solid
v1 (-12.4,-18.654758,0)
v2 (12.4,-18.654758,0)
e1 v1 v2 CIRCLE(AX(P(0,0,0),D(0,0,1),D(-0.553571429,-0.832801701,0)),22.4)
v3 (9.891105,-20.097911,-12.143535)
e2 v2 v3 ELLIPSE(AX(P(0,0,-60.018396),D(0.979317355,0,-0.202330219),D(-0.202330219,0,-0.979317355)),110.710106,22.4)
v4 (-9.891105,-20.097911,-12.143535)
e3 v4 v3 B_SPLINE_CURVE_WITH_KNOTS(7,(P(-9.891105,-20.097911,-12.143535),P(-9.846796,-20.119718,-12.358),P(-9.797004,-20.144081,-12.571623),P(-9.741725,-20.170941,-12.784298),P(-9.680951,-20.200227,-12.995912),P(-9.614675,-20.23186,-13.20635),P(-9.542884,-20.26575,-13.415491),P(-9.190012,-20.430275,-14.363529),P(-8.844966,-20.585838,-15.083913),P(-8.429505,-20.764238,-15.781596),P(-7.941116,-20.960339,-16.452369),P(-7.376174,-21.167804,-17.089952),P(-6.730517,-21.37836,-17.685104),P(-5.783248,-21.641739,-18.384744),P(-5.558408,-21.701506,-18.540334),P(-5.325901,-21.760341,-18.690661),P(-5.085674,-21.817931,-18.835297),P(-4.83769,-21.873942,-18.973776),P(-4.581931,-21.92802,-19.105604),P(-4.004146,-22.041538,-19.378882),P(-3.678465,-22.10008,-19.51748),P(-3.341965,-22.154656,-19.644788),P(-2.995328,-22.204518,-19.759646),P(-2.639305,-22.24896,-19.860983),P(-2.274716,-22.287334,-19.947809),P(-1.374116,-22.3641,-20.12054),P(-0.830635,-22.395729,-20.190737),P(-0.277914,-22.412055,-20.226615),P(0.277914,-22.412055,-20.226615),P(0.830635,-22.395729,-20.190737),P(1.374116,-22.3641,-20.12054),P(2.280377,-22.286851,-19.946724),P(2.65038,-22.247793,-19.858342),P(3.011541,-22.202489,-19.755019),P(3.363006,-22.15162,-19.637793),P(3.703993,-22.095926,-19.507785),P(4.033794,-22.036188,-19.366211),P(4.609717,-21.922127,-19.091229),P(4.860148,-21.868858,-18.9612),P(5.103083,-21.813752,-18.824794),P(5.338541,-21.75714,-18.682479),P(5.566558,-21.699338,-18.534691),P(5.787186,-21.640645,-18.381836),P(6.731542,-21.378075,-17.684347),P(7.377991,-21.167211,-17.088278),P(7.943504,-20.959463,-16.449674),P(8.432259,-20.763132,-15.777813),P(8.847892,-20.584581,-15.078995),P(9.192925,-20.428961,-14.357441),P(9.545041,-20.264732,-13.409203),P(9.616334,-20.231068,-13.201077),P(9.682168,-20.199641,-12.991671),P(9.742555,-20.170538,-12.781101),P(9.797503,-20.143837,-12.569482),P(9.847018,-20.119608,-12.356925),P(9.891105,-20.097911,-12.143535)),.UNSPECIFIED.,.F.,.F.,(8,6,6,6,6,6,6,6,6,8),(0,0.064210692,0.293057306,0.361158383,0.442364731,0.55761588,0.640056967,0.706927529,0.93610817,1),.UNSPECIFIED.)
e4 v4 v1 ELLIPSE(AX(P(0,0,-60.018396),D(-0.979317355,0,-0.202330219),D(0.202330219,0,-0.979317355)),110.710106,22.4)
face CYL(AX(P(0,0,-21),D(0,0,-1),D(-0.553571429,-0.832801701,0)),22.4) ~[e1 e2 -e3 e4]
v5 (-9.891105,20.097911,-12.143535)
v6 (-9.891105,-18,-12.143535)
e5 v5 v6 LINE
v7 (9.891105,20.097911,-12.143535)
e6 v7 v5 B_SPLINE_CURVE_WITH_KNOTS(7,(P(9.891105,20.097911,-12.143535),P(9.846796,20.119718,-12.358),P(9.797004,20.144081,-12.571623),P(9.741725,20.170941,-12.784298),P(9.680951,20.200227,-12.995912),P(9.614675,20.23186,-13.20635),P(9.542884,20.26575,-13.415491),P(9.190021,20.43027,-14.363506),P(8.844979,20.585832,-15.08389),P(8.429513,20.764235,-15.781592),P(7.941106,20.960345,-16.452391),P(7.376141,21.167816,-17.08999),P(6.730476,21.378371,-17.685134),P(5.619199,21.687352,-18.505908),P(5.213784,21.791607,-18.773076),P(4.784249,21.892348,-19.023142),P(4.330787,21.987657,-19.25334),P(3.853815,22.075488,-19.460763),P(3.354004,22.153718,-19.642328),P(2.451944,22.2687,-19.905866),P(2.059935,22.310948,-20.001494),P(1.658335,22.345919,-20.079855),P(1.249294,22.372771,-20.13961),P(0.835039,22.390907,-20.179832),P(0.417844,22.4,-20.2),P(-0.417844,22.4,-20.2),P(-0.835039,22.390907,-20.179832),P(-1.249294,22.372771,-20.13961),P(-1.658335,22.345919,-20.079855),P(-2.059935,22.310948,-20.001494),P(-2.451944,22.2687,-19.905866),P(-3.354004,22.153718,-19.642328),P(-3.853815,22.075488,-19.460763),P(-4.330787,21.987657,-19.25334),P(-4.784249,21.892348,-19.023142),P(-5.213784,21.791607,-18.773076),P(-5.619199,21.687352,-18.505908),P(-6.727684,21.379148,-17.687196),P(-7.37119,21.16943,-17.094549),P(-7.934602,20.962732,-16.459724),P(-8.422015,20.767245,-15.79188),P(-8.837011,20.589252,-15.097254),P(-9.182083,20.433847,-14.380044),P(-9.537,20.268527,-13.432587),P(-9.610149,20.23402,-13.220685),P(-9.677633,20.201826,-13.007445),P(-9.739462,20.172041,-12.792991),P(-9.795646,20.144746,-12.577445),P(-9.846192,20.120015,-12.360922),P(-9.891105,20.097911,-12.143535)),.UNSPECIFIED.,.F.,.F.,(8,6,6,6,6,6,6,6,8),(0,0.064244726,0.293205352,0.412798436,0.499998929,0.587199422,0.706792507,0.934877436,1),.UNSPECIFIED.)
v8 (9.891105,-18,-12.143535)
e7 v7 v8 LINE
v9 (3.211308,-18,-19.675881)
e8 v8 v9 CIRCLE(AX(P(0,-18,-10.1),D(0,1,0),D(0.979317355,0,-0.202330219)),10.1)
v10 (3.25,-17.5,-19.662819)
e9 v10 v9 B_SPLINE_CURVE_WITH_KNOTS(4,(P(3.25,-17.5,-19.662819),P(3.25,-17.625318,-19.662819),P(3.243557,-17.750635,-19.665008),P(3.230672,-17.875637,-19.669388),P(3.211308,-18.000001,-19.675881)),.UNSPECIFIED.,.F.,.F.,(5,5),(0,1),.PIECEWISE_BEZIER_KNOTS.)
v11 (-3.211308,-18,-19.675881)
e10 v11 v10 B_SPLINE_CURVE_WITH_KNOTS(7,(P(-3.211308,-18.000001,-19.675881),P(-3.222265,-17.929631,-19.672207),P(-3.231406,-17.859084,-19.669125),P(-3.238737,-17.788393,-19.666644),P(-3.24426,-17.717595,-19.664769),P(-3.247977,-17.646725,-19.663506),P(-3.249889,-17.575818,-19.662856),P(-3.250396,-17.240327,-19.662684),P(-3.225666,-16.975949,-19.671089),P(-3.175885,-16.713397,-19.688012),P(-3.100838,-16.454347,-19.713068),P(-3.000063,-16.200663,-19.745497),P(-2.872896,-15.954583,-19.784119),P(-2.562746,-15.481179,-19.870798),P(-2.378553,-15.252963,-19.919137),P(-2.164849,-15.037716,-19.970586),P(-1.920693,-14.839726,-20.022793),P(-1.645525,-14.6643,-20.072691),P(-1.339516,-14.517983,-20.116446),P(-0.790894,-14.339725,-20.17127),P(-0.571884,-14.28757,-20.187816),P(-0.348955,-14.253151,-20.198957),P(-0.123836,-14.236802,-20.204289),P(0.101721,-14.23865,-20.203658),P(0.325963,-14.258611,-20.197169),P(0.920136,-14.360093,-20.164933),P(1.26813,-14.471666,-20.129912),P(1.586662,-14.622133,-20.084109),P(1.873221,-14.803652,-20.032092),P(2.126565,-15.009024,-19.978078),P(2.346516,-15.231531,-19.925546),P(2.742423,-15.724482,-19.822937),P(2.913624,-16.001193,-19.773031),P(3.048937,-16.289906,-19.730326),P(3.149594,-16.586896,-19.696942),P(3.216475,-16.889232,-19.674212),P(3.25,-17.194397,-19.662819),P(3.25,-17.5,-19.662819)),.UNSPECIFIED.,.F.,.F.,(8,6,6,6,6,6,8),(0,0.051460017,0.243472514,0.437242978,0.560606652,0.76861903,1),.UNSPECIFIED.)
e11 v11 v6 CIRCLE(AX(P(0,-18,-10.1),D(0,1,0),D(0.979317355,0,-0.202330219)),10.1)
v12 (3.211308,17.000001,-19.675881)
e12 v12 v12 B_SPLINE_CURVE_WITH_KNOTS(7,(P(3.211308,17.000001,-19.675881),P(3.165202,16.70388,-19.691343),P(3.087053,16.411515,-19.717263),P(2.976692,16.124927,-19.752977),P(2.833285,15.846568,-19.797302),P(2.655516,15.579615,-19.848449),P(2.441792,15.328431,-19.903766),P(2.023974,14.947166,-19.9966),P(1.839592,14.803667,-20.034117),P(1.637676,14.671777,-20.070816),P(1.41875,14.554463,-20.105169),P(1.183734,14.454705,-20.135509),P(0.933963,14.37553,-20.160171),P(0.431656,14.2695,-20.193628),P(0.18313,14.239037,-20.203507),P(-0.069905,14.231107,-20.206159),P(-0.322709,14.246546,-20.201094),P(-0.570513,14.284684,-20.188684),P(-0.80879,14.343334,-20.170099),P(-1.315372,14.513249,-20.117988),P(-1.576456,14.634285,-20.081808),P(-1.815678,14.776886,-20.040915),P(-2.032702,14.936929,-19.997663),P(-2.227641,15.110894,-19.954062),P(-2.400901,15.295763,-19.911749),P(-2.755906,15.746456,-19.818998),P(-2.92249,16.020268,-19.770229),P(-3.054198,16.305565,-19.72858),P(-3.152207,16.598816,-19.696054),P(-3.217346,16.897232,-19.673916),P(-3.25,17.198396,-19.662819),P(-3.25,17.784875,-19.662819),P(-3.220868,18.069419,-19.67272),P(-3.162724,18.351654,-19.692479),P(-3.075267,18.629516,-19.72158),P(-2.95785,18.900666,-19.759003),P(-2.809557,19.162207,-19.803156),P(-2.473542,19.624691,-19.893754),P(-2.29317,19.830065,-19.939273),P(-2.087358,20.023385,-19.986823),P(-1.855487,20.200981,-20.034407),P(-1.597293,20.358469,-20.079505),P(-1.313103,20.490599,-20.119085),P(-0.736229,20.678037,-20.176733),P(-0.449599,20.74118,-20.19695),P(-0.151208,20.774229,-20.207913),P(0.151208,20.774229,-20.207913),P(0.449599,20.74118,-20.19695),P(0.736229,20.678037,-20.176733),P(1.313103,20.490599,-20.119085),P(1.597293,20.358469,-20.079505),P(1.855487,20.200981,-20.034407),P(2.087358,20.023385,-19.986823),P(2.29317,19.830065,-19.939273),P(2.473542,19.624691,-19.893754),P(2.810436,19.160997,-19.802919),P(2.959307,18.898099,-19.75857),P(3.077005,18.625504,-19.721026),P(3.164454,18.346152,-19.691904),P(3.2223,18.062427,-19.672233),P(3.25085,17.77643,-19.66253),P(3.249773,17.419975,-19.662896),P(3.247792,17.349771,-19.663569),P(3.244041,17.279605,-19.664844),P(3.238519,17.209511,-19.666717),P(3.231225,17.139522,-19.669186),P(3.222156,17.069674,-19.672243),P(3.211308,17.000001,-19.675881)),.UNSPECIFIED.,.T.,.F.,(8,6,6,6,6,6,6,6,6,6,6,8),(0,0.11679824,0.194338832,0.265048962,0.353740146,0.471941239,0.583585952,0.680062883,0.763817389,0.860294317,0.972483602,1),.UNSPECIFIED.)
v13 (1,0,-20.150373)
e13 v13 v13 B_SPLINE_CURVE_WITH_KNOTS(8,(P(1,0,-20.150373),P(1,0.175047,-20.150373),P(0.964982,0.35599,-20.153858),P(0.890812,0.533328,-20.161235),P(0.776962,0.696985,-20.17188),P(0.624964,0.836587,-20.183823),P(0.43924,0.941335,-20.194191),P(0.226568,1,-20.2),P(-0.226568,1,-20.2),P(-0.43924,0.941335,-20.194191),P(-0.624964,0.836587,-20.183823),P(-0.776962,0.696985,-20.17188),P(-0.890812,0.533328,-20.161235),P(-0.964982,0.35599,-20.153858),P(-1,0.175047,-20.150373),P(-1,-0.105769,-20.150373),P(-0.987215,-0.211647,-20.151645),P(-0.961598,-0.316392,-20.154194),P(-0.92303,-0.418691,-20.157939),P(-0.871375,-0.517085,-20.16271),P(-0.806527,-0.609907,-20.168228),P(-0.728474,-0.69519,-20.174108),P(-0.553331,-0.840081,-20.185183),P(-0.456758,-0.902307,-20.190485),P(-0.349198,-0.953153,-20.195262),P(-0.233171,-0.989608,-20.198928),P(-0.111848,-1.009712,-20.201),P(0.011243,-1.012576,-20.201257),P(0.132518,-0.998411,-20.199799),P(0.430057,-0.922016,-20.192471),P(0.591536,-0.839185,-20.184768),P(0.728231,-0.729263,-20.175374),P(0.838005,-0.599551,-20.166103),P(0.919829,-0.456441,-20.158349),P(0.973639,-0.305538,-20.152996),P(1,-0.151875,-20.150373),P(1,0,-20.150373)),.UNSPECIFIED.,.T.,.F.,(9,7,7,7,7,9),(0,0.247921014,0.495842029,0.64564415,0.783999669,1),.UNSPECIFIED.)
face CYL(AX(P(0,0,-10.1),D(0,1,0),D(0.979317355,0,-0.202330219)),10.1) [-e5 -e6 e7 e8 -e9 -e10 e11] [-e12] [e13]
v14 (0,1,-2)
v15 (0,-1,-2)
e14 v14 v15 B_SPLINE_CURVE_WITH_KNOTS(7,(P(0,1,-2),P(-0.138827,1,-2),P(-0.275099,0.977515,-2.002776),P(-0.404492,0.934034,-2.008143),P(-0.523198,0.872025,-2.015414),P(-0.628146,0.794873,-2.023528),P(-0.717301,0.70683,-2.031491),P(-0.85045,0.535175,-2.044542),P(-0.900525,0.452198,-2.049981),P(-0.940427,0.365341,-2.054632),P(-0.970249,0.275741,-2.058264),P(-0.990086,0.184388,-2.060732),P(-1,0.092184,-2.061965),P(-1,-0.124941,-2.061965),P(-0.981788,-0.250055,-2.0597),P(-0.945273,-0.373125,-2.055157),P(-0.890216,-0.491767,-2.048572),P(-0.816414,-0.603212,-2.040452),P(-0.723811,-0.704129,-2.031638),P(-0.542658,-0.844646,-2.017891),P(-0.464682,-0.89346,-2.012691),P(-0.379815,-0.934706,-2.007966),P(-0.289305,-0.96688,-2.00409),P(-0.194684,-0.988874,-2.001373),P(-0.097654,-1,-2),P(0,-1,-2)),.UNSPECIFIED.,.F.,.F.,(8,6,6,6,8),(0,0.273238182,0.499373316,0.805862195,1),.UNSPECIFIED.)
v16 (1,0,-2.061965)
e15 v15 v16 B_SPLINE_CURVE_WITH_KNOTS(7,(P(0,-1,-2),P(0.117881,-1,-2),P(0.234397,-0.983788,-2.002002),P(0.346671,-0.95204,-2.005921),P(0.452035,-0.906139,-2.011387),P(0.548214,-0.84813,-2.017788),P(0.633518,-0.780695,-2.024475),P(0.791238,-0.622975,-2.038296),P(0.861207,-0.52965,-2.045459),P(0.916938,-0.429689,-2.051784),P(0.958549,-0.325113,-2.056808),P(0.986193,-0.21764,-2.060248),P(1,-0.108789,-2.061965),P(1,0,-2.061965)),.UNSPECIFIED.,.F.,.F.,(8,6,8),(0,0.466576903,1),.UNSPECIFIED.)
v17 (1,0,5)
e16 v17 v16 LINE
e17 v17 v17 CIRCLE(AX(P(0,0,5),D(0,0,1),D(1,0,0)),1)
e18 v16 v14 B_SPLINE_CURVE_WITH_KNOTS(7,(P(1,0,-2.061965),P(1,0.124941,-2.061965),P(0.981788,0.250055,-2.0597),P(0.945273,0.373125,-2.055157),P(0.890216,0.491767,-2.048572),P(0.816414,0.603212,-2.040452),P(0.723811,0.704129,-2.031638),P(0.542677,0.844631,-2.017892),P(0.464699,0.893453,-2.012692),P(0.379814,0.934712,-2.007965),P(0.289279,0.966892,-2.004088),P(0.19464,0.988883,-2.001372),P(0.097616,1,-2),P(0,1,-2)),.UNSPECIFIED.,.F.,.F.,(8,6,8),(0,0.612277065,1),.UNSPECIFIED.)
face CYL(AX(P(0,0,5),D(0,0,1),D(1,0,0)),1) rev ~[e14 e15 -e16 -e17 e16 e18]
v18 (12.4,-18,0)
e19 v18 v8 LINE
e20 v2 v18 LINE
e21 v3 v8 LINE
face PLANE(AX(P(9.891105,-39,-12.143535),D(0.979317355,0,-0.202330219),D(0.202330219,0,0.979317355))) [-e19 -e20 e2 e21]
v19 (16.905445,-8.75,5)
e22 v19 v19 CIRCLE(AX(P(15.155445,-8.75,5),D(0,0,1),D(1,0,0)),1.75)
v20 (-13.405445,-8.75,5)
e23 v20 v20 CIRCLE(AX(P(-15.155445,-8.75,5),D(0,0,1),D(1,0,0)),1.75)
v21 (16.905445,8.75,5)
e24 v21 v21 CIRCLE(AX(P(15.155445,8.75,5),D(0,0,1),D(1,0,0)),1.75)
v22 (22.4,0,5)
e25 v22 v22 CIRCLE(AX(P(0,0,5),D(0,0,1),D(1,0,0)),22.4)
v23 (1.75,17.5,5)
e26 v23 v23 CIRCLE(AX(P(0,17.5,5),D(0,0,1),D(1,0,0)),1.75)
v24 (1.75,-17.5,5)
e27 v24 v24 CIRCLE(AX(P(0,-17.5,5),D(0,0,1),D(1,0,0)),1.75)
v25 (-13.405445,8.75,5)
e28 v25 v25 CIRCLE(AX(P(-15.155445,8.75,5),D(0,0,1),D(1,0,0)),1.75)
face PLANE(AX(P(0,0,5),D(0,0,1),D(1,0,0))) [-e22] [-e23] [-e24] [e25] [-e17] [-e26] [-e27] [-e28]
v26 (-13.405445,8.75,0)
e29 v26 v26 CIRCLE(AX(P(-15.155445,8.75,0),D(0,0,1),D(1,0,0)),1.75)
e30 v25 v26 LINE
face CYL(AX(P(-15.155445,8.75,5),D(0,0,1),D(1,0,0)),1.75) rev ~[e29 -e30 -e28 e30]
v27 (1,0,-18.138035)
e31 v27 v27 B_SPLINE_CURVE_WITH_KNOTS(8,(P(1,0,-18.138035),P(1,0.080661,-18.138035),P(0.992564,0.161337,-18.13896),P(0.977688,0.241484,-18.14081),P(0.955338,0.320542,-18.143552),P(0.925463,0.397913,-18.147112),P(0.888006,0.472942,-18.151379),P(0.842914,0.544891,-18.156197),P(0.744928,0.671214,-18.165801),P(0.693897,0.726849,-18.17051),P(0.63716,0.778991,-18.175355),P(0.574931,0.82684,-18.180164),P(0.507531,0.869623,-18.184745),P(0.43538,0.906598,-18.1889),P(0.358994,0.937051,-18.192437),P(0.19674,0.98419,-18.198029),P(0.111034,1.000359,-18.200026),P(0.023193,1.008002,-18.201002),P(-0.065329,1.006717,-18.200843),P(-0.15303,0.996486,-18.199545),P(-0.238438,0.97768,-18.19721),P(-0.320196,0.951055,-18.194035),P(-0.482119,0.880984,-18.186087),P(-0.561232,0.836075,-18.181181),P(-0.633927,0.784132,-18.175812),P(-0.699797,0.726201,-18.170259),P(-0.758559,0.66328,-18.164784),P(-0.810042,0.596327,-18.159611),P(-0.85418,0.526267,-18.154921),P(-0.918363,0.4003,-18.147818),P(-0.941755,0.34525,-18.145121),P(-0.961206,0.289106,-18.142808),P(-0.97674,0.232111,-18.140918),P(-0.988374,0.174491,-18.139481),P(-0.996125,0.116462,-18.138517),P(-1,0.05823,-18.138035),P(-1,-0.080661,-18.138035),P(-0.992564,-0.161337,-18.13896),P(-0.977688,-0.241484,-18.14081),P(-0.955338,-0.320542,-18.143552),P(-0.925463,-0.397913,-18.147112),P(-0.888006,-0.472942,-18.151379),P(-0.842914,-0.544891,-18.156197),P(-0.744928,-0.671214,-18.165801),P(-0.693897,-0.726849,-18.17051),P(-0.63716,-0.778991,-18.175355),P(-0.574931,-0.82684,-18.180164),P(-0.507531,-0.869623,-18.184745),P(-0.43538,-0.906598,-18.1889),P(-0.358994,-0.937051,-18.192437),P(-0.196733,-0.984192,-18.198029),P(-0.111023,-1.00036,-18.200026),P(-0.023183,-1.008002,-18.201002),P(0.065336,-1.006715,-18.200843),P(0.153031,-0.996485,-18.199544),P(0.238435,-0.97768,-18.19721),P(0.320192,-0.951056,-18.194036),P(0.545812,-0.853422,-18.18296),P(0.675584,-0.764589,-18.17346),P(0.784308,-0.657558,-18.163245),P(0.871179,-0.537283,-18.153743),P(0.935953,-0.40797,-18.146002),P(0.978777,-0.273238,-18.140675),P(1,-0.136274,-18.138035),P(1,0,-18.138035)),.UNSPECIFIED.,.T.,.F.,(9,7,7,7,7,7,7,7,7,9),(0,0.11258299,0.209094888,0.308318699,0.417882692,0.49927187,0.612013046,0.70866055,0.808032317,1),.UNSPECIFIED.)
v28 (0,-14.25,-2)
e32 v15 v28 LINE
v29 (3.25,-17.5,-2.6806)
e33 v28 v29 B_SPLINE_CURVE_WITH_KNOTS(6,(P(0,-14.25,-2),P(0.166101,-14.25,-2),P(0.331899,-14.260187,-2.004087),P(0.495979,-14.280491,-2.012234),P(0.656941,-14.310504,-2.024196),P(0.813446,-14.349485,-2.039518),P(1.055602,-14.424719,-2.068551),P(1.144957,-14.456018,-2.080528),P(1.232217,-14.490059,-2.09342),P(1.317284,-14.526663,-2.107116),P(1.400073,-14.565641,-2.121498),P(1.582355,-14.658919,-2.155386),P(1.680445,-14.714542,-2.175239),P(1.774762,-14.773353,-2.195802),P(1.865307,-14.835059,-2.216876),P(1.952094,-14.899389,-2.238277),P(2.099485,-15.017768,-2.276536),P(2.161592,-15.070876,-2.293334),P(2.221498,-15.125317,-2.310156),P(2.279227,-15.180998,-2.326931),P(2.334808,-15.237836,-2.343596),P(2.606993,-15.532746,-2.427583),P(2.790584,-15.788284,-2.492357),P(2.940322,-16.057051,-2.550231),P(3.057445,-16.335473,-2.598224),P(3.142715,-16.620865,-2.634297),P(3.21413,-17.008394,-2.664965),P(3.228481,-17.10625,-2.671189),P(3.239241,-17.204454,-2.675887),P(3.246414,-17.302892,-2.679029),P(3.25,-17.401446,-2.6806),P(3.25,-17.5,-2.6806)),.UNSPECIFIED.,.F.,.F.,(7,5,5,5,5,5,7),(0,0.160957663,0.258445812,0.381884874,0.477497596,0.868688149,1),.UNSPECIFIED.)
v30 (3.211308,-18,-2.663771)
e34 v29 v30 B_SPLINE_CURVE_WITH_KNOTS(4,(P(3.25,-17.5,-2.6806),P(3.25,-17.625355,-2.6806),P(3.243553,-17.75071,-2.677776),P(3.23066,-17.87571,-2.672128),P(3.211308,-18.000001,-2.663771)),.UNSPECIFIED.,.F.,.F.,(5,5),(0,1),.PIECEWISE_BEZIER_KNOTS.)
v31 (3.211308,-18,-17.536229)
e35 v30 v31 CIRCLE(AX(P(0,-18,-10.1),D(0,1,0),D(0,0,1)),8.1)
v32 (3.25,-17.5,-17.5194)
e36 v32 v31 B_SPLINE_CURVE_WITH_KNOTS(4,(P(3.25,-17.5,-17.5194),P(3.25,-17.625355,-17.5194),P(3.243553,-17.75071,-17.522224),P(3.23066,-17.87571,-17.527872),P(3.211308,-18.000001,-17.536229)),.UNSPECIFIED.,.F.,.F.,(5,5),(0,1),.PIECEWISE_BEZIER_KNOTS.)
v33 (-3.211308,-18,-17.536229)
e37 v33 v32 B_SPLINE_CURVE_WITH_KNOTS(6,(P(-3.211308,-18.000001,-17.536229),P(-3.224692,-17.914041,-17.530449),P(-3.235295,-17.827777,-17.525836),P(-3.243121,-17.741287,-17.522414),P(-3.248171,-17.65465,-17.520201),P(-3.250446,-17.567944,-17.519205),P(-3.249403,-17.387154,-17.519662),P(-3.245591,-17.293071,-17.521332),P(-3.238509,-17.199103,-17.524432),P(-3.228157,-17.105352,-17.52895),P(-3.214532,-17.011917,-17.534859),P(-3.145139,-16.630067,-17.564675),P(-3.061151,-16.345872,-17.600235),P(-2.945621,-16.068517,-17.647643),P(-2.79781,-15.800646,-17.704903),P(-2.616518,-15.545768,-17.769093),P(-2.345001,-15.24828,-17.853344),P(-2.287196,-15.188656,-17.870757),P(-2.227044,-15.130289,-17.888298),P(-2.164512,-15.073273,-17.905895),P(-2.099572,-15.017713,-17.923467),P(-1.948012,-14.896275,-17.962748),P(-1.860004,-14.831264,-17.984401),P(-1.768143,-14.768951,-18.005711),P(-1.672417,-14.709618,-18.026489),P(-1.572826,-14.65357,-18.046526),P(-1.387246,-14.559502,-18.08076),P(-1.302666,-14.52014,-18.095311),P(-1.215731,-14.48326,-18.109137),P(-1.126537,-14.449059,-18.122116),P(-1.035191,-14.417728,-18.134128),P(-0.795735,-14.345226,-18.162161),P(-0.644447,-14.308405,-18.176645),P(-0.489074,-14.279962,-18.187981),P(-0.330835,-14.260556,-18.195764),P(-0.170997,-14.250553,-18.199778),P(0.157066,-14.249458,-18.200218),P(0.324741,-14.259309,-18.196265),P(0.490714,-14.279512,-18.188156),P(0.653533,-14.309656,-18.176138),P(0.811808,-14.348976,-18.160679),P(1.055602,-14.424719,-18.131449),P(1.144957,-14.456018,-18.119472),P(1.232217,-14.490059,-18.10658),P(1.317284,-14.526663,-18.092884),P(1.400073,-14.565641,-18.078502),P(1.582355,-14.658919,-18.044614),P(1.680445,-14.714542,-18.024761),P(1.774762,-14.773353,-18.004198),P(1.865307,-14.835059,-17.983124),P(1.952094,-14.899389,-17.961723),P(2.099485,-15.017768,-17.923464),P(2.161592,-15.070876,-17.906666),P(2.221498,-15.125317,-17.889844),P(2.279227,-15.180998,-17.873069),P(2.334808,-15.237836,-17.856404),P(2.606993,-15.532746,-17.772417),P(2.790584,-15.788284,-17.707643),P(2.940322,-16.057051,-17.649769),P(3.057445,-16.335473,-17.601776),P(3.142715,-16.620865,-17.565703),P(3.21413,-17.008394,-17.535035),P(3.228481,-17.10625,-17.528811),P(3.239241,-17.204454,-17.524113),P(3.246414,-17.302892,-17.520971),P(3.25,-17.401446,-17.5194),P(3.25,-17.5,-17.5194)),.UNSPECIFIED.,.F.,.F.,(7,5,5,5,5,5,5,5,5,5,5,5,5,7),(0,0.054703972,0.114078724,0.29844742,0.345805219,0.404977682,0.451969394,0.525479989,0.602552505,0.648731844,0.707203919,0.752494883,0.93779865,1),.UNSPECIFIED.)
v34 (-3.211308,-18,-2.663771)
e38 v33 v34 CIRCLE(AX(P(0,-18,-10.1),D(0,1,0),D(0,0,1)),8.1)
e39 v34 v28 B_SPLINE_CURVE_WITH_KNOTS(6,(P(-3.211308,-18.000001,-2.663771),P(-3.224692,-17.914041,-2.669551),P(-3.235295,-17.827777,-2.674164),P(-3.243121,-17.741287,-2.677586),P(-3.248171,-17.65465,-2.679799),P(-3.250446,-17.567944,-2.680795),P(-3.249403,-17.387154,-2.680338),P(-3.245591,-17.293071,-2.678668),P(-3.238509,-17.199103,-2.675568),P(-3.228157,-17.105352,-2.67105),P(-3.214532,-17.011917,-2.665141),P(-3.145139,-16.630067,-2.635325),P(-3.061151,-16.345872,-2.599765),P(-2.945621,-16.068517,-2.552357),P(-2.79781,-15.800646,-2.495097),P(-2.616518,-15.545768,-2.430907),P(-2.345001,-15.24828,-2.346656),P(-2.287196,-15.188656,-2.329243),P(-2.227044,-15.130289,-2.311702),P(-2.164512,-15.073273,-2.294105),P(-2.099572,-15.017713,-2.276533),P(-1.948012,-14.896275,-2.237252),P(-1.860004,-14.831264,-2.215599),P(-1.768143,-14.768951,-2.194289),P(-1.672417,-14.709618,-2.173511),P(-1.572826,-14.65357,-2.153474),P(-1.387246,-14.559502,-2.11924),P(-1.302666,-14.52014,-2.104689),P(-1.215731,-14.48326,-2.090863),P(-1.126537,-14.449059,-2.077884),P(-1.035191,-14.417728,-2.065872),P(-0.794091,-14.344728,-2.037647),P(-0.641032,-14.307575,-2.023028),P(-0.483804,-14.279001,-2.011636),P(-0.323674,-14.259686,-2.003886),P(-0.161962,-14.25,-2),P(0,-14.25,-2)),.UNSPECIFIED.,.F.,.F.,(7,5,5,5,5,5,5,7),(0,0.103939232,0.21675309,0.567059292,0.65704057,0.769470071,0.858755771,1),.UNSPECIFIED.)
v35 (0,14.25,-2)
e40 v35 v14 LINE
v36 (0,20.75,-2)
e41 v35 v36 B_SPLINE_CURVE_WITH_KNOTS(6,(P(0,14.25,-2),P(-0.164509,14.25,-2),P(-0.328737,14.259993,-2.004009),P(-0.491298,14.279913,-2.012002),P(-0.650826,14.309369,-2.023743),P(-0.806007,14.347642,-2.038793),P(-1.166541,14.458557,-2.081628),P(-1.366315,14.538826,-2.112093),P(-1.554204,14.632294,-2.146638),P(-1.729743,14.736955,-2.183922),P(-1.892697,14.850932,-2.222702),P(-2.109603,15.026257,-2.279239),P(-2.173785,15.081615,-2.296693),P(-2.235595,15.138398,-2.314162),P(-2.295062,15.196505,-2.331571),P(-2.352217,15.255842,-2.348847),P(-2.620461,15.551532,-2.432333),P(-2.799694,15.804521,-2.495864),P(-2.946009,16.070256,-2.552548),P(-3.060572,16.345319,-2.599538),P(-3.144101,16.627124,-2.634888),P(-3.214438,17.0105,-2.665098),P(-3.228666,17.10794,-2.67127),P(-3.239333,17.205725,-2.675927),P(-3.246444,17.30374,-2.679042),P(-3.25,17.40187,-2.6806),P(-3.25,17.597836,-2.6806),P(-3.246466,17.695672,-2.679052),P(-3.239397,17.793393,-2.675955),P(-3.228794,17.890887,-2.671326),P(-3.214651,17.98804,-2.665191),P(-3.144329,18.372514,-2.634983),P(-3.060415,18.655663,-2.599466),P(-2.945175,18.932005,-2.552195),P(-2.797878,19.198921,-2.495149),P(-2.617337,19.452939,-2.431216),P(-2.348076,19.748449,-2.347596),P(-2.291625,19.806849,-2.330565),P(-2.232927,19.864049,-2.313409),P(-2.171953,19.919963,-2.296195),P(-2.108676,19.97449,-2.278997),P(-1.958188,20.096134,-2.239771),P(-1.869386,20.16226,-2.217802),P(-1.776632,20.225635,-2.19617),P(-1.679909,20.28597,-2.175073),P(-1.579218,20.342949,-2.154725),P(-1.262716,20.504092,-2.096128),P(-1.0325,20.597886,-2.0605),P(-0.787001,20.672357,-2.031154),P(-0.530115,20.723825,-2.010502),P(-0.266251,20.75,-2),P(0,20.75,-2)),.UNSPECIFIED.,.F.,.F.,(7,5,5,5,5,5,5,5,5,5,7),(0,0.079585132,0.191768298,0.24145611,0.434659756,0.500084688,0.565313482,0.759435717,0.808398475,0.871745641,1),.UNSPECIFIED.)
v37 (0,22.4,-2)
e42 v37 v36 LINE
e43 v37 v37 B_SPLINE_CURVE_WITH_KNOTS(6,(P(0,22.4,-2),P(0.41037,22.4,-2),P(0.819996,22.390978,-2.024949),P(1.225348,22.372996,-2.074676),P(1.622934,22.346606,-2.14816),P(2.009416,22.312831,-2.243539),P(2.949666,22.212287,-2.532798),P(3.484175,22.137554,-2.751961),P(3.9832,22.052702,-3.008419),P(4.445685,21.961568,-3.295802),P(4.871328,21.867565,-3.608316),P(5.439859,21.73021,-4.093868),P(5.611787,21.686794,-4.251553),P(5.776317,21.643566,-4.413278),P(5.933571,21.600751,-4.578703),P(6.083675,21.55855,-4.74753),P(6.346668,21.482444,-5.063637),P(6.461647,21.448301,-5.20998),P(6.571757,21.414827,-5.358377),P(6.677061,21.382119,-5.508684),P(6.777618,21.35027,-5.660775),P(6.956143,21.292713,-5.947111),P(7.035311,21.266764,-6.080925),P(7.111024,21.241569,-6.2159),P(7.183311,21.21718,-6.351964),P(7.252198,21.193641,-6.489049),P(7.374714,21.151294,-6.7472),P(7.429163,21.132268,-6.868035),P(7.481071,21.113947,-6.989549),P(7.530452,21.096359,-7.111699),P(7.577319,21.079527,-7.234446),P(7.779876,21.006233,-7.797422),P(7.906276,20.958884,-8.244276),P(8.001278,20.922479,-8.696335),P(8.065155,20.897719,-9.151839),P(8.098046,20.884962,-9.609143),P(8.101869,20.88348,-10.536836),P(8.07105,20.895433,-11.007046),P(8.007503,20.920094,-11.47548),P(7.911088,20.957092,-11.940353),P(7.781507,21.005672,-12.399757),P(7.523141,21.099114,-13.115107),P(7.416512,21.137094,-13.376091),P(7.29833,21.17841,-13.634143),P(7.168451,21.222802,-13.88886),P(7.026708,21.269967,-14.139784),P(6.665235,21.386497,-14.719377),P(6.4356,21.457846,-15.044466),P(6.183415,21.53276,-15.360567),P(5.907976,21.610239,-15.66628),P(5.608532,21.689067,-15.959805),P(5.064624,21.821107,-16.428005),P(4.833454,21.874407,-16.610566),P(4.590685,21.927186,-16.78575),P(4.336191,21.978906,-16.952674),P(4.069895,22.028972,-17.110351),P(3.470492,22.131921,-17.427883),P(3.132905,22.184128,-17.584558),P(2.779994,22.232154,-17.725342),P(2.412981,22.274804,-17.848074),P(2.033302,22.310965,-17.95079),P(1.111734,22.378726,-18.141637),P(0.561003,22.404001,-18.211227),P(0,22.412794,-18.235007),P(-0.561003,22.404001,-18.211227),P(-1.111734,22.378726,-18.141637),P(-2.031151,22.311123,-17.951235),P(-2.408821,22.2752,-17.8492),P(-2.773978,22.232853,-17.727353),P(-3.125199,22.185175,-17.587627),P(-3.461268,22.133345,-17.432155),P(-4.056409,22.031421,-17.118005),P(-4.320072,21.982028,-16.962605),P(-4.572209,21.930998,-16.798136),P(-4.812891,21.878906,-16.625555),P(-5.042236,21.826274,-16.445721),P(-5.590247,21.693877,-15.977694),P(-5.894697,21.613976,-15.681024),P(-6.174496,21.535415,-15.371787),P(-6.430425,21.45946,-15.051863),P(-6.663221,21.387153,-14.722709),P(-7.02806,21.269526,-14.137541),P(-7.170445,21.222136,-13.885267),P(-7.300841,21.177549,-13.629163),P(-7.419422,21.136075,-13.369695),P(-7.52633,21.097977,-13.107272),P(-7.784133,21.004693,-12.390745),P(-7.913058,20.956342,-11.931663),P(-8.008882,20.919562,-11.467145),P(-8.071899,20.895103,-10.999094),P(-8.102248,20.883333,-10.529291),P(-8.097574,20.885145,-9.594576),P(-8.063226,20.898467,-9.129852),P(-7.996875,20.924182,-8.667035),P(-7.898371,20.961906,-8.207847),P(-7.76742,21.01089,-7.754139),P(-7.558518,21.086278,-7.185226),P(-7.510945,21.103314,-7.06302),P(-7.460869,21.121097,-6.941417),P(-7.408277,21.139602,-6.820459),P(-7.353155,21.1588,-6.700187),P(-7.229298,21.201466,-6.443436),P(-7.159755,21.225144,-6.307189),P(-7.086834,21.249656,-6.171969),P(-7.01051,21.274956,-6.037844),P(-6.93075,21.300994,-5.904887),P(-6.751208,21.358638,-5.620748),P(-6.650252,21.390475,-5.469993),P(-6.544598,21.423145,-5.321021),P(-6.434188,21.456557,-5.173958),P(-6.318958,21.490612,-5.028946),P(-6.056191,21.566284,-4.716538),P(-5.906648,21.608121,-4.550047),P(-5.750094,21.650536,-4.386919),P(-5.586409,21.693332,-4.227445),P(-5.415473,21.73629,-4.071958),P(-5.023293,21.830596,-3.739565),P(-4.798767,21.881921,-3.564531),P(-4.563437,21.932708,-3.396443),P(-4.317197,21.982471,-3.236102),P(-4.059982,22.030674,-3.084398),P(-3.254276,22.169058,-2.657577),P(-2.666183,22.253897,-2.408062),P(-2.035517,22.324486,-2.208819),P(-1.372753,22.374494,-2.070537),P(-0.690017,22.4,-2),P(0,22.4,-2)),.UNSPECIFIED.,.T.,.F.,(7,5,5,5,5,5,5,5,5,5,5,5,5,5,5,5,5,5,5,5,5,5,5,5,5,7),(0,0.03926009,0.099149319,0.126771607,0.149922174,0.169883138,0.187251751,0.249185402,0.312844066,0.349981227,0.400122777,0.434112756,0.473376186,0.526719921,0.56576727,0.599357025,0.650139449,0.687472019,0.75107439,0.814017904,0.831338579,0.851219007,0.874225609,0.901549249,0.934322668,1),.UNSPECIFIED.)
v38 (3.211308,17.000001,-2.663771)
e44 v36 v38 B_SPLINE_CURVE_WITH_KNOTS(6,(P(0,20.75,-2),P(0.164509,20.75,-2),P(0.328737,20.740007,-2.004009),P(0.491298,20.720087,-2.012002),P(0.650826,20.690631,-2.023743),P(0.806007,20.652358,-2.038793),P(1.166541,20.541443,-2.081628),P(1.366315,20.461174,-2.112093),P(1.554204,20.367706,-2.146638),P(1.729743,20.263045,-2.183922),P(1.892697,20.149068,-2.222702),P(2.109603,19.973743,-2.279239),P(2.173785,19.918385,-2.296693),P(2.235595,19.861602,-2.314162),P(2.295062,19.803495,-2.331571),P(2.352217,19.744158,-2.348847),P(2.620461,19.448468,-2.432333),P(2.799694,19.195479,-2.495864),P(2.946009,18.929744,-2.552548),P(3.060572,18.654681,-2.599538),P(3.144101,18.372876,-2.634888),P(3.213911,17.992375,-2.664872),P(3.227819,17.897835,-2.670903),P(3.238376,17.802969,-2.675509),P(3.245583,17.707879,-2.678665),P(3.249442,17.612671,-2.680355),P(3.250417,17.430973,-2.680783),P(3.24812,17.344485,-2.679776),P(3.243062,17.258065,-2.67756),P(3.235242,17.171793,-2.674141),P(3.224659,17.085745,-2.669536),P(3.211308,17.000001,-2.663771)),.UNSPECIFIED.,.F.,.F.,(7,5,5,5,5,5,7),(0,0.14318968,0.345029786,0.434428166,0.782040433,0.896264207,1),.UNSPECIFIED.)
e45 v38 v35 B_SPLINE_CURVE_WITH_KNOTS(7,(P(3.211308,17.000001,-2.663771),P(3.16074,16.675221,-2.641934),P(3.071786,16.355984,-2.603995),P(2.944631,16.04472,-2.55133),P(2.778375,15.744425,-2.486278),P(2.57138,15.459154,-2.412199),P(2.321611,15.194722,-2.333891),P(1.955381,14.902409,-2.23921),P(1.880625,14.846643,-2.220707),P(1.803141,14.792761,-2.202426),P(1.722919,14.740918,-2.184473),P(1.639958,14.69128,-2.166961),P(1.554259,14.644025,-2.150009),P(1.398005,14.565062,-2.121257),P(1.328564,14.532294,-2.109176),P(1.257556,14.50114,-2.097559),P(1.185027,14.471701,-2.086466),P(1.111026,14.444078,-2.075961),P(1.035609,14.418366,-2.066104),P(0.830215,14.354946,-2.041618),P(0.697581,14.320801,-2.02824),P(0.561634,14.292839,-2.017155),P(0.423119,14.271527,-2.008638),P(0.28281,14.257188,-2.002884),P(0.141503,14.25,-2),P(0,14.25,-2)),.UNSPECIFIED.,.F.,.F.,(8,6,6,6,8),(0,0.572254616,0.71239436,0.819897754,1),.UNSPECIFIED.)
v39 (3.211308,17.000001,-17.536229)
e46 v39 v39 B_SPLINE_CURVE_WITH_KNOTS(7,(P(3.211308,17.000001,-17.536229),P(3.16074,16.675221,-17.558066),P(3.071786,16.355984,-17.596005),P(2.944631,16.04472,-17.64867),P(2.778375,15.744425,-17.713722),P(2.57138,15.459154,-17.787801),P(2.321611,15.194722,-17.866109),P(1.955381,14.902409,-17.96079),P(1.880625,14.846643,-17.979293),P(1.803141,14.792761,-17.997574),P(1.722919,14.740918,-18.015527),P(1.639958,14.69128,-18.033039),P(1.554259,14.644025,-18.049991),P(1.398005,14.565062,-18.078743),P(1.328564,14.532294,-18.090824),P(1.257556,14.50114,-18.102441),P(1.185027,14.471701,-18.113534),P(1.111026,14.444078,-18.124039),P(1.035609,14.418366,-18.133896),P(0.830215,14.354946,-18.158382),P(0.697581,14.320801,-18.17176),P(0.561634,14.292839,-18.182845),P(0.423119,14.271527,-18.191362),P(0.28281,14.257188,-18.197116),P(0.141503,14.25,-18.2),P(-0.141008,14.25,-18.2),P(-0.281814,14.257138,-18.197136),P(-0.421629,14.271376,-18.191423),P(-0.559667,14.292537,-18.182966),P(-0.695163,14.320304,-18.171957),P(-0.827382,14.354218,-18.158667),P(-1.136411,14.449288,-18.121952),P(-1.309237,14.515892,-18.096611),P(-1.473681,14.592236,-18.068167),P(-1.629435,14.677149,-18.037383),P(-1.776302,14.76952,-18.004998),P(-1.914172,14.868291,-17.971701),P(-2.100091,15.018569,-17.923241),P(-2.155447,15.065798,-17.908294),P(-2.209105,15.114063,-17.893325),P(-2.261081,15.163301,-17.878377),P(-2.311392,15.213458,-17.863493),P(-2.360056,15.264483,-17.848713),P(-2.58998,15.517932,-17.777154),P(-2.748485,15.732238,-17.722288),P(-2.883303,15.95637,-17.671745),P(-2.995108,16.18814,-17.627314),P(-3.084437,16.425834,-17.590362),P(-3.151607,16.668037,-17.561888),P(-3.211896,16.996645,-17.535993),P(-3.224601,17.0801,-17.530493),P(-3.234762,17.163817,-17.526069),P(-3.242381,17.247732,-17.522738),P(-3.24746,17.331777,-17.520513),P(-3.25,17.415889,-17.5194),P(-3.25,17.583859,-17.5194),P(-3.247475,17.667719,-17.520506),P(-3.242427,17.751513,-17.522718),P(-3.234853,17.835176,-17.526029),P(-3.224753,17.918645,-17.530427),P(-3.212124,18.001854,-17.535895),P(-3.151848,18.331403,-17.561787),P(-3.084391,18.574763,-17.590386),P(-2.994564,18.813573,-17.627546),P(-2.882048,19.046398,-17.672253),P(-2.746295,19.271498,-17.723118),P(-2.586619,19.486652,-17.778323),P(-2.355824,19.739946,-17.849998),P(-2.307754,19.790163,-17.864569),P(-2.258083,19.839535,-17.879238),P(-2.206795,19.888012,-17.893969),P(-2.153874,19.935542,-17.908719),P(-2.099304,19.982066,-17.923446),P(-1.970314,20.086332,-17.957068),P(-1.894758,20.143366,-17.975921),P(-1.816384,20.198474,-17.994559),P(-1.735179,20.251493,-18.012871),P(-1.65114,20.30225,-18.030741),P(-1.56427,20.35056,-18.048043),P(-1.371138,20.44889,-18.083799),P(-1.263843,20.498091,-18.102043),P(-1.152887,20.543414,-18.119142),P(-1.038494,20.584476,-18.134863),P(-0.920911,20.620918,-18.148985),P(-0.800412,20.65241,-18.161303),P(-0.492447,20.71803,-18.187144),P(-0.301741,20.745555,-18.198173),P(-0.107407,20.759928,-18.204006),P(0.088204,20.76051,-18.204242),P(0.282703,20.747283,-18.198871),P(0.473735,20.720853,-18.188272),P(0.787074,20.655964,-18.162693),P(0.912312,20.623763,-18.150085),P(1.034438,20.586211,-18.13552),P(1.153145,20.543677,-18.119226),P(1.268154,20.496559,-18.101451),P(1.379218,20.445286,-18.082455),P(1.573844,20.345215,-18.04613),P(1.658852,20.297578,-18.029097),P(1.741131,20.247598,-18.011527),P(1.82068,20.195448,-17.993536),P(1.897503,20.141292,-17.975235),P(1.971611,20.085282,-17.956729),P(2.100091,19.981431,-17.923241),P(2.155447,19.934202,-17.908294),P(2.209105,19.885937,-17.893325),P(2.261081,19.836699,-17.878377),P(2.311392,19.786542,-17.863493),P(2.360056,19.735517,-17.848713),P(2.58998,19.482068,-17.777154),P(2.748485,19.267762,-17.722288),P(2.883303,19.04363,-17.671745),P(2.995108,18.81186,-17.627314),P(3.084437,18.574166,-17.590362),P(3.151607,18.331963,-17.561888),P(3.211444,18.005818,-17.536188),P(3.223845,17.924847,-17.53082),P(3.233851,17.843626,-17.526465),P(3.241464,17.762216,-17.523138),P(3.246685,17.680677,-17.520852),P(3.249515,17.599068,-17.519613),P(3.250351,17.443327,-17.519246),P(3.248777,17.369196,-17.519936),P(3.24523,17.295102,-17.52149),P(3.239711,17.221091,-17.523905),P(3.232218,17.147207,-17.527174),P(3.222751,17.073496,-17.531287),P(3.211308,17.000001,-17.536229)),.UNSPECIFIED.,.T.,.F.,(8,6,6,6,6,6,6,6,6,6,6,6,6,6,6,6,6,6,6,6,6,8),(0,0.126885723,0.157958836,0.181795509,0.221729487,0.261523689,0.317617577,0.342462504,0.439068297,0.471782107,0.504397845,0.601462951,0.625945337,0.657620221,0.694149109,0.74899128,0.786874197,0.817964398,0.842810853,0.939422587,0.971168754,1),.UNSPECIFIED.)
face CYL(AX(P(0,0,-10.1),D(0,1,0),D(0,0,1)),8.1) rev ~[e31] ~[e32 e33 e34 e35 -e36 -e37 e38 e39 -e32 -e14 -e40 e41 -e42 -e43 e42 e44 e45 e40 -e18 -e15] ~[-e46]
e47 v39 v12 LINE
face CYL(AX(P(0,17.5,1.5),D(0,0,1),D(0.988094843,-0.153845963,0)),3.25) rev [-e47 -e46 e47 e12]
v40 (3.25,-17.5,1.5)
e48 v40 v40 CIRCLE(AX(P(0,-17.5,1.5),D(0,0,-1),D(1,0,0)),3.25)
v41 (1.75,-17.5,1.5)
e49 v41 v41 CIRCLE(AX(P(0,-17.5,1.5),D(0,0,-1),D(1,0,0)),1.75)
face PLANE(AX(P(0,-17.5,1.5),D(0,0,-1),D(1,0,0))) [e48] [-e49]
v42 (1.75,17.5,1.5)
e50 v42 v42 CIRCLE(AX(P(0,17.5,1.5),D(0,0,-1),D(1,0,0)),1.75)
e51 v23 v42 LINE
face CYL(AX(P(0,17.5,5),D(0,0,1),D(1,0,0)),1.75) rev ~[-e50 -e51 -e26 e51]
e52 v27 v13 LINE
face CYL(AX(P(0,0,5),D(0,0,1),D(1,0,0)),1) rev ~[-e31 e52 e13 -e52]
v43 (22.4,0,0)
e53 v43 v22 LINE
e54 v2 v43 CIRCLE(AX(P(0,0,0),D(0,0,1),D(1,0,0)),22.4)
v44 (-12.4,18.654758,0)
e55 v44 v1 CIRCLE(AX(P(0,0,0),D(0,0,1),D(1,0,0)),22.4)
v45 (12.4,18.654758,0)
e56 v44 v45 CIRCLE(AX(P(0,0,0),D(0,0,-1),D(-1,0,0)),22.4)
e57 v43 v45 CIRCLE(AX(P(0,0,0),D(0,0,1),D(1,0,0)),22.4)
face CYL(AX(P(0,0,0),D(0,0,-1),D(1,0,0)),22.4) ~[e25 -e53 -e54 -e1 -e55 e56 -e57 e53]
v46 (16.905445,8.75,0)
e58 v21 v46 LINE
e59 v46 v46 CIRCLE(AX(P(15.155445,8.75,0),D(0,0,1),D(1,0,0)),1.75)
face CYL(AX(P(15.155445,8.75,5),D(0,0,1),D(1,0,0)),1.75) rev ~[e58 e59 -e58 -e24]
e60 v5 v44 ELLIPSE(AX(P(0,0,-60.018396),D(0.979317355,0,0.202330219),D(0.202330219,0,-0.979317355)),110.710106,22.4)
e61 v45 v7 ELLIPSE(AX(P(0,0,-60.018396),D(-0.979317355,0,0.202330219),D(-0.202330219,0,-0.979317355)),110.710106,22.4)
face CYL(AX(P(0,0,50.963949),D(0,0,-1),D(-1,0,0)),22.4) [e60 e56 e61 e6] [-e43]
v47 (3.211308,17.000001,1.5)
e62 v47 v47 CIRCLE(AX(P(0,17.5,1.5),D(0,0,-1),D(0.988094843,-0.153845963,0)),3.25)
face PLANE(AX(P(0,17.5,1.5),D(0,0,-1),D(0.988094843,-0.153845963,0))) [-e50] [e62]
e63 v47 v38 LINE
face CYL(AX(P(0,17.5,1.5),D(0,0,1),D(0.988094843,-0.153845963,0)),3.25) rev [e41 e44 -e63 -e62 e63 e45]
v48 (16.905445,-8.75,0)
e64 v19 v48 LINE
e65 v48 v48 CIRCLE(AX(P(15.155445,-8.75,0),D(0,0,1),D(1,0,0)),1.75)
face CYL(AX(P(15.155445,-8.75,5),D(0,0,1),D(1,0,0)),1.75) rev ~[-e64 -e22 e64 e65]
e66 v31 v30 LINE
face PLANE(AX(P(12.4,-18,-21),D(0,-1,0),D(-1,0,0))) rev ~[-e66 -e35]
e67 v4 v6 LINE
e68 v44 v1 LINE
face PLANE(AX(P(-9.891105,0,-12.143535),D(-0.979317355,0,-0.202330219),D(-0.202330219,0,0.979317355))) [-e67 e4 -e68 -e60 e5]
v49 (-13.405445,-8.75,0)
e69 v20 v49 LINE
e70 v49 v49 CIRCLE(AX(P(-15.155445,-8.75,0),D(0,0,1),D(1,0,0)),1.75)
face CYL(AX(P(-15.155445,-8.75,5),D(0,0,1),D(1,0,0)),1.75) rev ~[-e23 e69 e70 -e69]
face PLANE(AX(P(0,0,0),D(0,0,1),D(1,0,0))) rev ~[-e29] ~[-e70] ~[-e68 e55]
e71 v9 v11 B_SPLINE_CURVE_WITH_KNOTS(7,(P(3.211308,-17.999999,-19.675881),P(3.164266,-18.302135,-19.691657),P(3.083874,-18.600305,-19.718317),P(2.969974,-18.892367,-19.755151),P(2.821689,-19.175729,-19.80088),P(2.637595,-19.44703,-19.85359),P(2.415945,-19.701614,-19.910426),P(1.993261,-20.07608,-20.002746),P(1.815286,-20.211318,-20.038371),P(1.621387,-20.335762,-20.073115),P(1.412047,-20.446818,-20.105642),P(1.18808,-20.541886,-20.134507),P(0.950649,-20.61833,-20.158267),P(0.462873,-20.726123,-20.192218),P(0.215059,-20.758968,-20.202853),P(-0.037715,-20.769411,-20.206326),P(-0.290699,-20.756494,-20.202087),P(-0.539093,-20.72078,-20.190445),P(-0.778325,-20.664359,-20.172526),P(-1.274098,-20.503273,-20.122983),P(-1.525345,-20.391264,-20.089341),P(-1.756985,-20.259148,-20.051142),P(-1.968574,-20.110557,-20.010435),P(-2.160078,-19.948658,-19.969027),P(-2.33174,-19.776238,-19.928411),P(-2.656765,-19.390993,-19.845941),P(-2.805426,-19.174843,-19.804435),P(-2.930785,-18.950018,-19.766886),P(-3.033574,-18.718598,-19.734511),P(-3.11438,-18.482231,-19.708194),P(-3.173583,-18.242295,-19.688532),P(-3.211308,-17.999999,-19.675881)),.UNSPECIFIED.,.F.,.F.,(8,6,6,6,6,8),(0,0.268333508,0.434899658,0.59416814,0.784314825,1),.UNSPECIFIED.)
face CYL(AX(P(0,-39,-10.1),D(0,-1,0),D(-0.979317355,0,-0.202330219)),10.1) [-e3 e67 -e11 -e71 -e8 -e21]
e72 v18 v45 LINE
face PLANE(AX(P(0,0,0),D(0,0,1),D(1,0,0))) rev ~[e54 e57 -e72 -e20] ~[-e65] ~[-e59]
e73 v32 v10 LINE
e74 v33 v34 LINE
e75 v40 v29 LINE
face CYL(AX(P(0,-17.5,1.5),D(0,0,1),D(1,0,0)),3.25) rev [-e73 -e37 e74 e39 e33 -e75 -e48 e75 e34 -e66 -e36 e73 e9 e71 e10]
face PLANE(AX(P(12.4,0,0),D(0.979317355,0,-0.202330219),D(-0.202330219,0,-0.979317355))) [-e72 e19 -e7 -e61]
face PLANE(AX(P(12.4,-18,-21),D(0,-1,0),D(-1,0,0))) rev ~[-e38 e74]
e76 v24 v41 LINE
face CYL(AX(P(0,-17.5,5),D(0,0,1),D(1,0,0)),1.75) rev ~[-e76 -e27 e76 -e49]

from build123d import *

# Parameters (mm, degrees)
SKETCH1_R                       = 22.4
BOSS_EXTRUDE1_DEPTH             = 5
BOSS_EXTRUDE2_REACH             = 34.071
BOSS_EXTRUDE2_END_RADIUS        = 22.4
SKETCH3_R                       = 8.1
BOSS_EXTRUDE2_DIRECTION_2_DEPTH = 18
BOSS_EXTRUDE5_START             = 21
BOSS_EXTRUDE5_DEPTH             = 21
CUT_EXTRUDE2_START              = -21
CUT_EXTRUDE2_DEPTH              = 21
SKETCH2_R                       = 1.75
CUT_EXTRUDE1_DEPTH              = 41.479130543
CUT_EXTRUDE3_DEPTH              = 21
CUT_EXTRUDE3_DEPTH_BACK         = 1.5
SKETCH7_R                       = 3.25
SKETCH7_R_2                     = 1.75
SKETCH8_R                       = 1
CUT_EXTRUDE4_DEPTH              = 41.479130543


with BuildPart() as part:
    # Sketch1 → Boss-Extrude1 (new body)
    with BuildSketch(Plane.XY):
        Circle(SKETCH1_R)
    extrude(amount=BOSS_EXTRUDE1_DEPTH)



with BuildPart() as body_2:
    # Boss-Extrude2: up to this cylinder (the profile starts inside it)
    boss_extrude2_end = Plane(origin=(0, 0, -6.007051), z_dir=(0, 0, -1)) * Cylinder(BOSS_EXTRUDE2_END_RADIUS, 113.942, mode=Mode.PRIVATE)
    # Sketch3 → Boss-Extrude2 (new, up to the surface)
    with BuildSketch(Plane(origin=(0, 0, 0), x_dir=(1, 0, 0), z_dir=(0, 1, 0)), mode=Mode.PRIVATE) as boss_extrude2_sk1:
        with BuildLine():
            Line((-9.89110529, 12.143535207), (-12.4, 0))
            Line((-12.4, 0), (12.4, 0))
            Line((12.4, 0), (9.89110529, 12.143535207))
            ThreePointArc((9.89110529, 12.143535207), (0, 20.2), (-9.89110529, 12.143535207))
        make_face()
        with Locations(Location((0, 10.1, 0), (0, 0, 270))):
            Circle(SKETCH3_R, mode=Mode.SUBTRACT)
    boss_extrude2_tool1 = extrude(boss_extrude2_sk1.sketch, amount=BOSS_EXTRUDE2_REACH, mode=Mode.PRIVATE) & boss_extrude2_end
    add(boss_extrude2_tool1.solids().sort_by_distance((-10.832312, 0, -6.007051))[0])

    # Sketch3 → Boss-Extrude2 direction 2 (add)
    with BuildSketch(Plane(origin=(0, 0, 0), x_dir=(1, 0, 0), z_dir=(0, 1, 0))):
        with BuildLine():
            Line((-9.89110529, 12.143535207), (-12.4, 0))
            Line((-12.4, 0), (12.4, 0))
            Line((12.4, 0), (9.89110529, 12.143535207))
            ThreePointArc((9.89110529, 12.143535207), (0, 20.2), (-9.89110529, 12.143535207))
        make_face()
        with Locations(Location((0, 10.1, 0), (0, 0, 270))):
            Circle(SKETCH3_R, mode=Mode.SUBTRACT)
    extrude(amount=-BOSS_EXTRUDE2_DIRECTION_2_DEPTH)


with BuildPart() as part_1:
    add(part.part)

    add(body_2.part)  # Boss-Extrude5 merges body 2
    # Sketch4 → Boss-Extrude5 (add)
    with BuildSketch(Plane(origin=(0, 0, 0), x_dir=(-1, 0, 0), z_dir=(0, 0, -1)).offset(BOSS_EXTRUDE5_START)):
        with BuildLine():
            Line((9.89110529, -18), (12.4, -18))
            Line((12.4, -18), (12.4, -18.654758106))
            ThreePointArc((12.4, -18.654758106), (0, -22.4), (-12.4, -18.654758106))
            Line((-12.4, -18.654758106), (-12.4, -18))
            Line((-12.4, -18), (-9.89110529, -18))
            Line((-9.89110529, -18), (9.89110529, -18))
        make_face()
    extrude(amount=-BOSS_EXTRUDE5_DEPTH)

    # Sketch6 → Cut-Extrude2 (cut)
    with BuildSketch(Plane(origin=(0, -18, 0), x_dir=(1, 0, 0), z_dir=(0, 1, 0)).offset(CUT_EXTRUDE2_START)):
        with BuildLine():
            Line((9.89110529, 12.143535207), (12.4, 0))
            Line((12.4, 0), (12.4, 21))
            Line((12.4, 21), (-12.4, 21))
            Line((-12.4, 21), (-12.4, 0))
            Line((-12.4, 0), (-9.89110529, 12.143535207))
            ThreePointArc((-9.89110529, 12.143535207), (0, 20.2), (9.89110529, 12.143535207))
        make_face()
    extrude(amount=CUT_EXTRUDE2_DEPTH, mode=Mode.SUBTRACT)

    # Sketch2 → Cut-Extrude1 (cut, through all)
    with BuildSketch(Plane.XY.offset(5)):
        with Locations((0, 17.5)):
            Circle(SKETCH2_R)
        with Locations((15.155444566, 8.75)):
            Circle(SKETCH2_R)
        with Locations((15.155444566, -8.75)):
            Circle(SKETCH2_R)
        with Locations((0, -17.5)):
            Circle(SKETCH2_R)
        with Locations((-15.155444566, -8.75)):
            Circle(SKETCH2_R)
        with Locations((-15.155444566, 8.75)):
            Circle(SKETCH2_R)
    extrude(amount=-CUT_EXTRUDE1_DEPTH, mode=Mode.SUBTRACT)

    # Sketch7 → Cut-Extrude3 (cut, two sides: drawn at the far end of the back side and taken through both)
    # profile 1 of 2: a face of its own
    with BuildSketch(Plane(origin=(0, 0, 0), x_dir=(-1, 0, 0), z_dir=(0, 0, -1)).offset(-CUT_EXTRUDE3_DEPTH_BACK)):
        with Locations(Location((0, 17.5, 0), (0, 0, 188.849872023))):
            Circle(SKETCH7_R)
        with Locations(Location((0, 17.5, 0), (0, 0, 180))):
            Circle(SKETCH7_R_2, mode=Mode.SUBTRACT)
    # profile 2 of 2: a face of its own
    with BuildSketch(Plane(origin=(0, 0, 0), x_dir=(-1, 0, 0), z_dir=(0, 0, -1)).offset(-CUT_EXTRUDE3_DEPTH_BACK)):
        with Locations(Location((0, -17.5, 0), (0, 0, 180))):
            Circle(SKETCH7_R)
        with Locations(Location((0, -17.5, 0), (0, 0, 180))):
            Circle(SKETCH7_R_2, mode=Mode.SUBTRACT)
    extrude(amount=CUT_EXTRUDE3_DEPTH + CUT_EXTRUDE3_DEPTH_BACK, mode=Mode.SUBTRACT)

    # Sketch8 → Cut-Extrude4 (cut, through all)
    with BuildSketch(Plane.XY.offset(5)):
        Circle(SKETCH8_R)
    extrude(amount=-CUT_EXTRUDE4_DEPTH, mode=Mode.SUBTRACT)


solid = part_1.part
